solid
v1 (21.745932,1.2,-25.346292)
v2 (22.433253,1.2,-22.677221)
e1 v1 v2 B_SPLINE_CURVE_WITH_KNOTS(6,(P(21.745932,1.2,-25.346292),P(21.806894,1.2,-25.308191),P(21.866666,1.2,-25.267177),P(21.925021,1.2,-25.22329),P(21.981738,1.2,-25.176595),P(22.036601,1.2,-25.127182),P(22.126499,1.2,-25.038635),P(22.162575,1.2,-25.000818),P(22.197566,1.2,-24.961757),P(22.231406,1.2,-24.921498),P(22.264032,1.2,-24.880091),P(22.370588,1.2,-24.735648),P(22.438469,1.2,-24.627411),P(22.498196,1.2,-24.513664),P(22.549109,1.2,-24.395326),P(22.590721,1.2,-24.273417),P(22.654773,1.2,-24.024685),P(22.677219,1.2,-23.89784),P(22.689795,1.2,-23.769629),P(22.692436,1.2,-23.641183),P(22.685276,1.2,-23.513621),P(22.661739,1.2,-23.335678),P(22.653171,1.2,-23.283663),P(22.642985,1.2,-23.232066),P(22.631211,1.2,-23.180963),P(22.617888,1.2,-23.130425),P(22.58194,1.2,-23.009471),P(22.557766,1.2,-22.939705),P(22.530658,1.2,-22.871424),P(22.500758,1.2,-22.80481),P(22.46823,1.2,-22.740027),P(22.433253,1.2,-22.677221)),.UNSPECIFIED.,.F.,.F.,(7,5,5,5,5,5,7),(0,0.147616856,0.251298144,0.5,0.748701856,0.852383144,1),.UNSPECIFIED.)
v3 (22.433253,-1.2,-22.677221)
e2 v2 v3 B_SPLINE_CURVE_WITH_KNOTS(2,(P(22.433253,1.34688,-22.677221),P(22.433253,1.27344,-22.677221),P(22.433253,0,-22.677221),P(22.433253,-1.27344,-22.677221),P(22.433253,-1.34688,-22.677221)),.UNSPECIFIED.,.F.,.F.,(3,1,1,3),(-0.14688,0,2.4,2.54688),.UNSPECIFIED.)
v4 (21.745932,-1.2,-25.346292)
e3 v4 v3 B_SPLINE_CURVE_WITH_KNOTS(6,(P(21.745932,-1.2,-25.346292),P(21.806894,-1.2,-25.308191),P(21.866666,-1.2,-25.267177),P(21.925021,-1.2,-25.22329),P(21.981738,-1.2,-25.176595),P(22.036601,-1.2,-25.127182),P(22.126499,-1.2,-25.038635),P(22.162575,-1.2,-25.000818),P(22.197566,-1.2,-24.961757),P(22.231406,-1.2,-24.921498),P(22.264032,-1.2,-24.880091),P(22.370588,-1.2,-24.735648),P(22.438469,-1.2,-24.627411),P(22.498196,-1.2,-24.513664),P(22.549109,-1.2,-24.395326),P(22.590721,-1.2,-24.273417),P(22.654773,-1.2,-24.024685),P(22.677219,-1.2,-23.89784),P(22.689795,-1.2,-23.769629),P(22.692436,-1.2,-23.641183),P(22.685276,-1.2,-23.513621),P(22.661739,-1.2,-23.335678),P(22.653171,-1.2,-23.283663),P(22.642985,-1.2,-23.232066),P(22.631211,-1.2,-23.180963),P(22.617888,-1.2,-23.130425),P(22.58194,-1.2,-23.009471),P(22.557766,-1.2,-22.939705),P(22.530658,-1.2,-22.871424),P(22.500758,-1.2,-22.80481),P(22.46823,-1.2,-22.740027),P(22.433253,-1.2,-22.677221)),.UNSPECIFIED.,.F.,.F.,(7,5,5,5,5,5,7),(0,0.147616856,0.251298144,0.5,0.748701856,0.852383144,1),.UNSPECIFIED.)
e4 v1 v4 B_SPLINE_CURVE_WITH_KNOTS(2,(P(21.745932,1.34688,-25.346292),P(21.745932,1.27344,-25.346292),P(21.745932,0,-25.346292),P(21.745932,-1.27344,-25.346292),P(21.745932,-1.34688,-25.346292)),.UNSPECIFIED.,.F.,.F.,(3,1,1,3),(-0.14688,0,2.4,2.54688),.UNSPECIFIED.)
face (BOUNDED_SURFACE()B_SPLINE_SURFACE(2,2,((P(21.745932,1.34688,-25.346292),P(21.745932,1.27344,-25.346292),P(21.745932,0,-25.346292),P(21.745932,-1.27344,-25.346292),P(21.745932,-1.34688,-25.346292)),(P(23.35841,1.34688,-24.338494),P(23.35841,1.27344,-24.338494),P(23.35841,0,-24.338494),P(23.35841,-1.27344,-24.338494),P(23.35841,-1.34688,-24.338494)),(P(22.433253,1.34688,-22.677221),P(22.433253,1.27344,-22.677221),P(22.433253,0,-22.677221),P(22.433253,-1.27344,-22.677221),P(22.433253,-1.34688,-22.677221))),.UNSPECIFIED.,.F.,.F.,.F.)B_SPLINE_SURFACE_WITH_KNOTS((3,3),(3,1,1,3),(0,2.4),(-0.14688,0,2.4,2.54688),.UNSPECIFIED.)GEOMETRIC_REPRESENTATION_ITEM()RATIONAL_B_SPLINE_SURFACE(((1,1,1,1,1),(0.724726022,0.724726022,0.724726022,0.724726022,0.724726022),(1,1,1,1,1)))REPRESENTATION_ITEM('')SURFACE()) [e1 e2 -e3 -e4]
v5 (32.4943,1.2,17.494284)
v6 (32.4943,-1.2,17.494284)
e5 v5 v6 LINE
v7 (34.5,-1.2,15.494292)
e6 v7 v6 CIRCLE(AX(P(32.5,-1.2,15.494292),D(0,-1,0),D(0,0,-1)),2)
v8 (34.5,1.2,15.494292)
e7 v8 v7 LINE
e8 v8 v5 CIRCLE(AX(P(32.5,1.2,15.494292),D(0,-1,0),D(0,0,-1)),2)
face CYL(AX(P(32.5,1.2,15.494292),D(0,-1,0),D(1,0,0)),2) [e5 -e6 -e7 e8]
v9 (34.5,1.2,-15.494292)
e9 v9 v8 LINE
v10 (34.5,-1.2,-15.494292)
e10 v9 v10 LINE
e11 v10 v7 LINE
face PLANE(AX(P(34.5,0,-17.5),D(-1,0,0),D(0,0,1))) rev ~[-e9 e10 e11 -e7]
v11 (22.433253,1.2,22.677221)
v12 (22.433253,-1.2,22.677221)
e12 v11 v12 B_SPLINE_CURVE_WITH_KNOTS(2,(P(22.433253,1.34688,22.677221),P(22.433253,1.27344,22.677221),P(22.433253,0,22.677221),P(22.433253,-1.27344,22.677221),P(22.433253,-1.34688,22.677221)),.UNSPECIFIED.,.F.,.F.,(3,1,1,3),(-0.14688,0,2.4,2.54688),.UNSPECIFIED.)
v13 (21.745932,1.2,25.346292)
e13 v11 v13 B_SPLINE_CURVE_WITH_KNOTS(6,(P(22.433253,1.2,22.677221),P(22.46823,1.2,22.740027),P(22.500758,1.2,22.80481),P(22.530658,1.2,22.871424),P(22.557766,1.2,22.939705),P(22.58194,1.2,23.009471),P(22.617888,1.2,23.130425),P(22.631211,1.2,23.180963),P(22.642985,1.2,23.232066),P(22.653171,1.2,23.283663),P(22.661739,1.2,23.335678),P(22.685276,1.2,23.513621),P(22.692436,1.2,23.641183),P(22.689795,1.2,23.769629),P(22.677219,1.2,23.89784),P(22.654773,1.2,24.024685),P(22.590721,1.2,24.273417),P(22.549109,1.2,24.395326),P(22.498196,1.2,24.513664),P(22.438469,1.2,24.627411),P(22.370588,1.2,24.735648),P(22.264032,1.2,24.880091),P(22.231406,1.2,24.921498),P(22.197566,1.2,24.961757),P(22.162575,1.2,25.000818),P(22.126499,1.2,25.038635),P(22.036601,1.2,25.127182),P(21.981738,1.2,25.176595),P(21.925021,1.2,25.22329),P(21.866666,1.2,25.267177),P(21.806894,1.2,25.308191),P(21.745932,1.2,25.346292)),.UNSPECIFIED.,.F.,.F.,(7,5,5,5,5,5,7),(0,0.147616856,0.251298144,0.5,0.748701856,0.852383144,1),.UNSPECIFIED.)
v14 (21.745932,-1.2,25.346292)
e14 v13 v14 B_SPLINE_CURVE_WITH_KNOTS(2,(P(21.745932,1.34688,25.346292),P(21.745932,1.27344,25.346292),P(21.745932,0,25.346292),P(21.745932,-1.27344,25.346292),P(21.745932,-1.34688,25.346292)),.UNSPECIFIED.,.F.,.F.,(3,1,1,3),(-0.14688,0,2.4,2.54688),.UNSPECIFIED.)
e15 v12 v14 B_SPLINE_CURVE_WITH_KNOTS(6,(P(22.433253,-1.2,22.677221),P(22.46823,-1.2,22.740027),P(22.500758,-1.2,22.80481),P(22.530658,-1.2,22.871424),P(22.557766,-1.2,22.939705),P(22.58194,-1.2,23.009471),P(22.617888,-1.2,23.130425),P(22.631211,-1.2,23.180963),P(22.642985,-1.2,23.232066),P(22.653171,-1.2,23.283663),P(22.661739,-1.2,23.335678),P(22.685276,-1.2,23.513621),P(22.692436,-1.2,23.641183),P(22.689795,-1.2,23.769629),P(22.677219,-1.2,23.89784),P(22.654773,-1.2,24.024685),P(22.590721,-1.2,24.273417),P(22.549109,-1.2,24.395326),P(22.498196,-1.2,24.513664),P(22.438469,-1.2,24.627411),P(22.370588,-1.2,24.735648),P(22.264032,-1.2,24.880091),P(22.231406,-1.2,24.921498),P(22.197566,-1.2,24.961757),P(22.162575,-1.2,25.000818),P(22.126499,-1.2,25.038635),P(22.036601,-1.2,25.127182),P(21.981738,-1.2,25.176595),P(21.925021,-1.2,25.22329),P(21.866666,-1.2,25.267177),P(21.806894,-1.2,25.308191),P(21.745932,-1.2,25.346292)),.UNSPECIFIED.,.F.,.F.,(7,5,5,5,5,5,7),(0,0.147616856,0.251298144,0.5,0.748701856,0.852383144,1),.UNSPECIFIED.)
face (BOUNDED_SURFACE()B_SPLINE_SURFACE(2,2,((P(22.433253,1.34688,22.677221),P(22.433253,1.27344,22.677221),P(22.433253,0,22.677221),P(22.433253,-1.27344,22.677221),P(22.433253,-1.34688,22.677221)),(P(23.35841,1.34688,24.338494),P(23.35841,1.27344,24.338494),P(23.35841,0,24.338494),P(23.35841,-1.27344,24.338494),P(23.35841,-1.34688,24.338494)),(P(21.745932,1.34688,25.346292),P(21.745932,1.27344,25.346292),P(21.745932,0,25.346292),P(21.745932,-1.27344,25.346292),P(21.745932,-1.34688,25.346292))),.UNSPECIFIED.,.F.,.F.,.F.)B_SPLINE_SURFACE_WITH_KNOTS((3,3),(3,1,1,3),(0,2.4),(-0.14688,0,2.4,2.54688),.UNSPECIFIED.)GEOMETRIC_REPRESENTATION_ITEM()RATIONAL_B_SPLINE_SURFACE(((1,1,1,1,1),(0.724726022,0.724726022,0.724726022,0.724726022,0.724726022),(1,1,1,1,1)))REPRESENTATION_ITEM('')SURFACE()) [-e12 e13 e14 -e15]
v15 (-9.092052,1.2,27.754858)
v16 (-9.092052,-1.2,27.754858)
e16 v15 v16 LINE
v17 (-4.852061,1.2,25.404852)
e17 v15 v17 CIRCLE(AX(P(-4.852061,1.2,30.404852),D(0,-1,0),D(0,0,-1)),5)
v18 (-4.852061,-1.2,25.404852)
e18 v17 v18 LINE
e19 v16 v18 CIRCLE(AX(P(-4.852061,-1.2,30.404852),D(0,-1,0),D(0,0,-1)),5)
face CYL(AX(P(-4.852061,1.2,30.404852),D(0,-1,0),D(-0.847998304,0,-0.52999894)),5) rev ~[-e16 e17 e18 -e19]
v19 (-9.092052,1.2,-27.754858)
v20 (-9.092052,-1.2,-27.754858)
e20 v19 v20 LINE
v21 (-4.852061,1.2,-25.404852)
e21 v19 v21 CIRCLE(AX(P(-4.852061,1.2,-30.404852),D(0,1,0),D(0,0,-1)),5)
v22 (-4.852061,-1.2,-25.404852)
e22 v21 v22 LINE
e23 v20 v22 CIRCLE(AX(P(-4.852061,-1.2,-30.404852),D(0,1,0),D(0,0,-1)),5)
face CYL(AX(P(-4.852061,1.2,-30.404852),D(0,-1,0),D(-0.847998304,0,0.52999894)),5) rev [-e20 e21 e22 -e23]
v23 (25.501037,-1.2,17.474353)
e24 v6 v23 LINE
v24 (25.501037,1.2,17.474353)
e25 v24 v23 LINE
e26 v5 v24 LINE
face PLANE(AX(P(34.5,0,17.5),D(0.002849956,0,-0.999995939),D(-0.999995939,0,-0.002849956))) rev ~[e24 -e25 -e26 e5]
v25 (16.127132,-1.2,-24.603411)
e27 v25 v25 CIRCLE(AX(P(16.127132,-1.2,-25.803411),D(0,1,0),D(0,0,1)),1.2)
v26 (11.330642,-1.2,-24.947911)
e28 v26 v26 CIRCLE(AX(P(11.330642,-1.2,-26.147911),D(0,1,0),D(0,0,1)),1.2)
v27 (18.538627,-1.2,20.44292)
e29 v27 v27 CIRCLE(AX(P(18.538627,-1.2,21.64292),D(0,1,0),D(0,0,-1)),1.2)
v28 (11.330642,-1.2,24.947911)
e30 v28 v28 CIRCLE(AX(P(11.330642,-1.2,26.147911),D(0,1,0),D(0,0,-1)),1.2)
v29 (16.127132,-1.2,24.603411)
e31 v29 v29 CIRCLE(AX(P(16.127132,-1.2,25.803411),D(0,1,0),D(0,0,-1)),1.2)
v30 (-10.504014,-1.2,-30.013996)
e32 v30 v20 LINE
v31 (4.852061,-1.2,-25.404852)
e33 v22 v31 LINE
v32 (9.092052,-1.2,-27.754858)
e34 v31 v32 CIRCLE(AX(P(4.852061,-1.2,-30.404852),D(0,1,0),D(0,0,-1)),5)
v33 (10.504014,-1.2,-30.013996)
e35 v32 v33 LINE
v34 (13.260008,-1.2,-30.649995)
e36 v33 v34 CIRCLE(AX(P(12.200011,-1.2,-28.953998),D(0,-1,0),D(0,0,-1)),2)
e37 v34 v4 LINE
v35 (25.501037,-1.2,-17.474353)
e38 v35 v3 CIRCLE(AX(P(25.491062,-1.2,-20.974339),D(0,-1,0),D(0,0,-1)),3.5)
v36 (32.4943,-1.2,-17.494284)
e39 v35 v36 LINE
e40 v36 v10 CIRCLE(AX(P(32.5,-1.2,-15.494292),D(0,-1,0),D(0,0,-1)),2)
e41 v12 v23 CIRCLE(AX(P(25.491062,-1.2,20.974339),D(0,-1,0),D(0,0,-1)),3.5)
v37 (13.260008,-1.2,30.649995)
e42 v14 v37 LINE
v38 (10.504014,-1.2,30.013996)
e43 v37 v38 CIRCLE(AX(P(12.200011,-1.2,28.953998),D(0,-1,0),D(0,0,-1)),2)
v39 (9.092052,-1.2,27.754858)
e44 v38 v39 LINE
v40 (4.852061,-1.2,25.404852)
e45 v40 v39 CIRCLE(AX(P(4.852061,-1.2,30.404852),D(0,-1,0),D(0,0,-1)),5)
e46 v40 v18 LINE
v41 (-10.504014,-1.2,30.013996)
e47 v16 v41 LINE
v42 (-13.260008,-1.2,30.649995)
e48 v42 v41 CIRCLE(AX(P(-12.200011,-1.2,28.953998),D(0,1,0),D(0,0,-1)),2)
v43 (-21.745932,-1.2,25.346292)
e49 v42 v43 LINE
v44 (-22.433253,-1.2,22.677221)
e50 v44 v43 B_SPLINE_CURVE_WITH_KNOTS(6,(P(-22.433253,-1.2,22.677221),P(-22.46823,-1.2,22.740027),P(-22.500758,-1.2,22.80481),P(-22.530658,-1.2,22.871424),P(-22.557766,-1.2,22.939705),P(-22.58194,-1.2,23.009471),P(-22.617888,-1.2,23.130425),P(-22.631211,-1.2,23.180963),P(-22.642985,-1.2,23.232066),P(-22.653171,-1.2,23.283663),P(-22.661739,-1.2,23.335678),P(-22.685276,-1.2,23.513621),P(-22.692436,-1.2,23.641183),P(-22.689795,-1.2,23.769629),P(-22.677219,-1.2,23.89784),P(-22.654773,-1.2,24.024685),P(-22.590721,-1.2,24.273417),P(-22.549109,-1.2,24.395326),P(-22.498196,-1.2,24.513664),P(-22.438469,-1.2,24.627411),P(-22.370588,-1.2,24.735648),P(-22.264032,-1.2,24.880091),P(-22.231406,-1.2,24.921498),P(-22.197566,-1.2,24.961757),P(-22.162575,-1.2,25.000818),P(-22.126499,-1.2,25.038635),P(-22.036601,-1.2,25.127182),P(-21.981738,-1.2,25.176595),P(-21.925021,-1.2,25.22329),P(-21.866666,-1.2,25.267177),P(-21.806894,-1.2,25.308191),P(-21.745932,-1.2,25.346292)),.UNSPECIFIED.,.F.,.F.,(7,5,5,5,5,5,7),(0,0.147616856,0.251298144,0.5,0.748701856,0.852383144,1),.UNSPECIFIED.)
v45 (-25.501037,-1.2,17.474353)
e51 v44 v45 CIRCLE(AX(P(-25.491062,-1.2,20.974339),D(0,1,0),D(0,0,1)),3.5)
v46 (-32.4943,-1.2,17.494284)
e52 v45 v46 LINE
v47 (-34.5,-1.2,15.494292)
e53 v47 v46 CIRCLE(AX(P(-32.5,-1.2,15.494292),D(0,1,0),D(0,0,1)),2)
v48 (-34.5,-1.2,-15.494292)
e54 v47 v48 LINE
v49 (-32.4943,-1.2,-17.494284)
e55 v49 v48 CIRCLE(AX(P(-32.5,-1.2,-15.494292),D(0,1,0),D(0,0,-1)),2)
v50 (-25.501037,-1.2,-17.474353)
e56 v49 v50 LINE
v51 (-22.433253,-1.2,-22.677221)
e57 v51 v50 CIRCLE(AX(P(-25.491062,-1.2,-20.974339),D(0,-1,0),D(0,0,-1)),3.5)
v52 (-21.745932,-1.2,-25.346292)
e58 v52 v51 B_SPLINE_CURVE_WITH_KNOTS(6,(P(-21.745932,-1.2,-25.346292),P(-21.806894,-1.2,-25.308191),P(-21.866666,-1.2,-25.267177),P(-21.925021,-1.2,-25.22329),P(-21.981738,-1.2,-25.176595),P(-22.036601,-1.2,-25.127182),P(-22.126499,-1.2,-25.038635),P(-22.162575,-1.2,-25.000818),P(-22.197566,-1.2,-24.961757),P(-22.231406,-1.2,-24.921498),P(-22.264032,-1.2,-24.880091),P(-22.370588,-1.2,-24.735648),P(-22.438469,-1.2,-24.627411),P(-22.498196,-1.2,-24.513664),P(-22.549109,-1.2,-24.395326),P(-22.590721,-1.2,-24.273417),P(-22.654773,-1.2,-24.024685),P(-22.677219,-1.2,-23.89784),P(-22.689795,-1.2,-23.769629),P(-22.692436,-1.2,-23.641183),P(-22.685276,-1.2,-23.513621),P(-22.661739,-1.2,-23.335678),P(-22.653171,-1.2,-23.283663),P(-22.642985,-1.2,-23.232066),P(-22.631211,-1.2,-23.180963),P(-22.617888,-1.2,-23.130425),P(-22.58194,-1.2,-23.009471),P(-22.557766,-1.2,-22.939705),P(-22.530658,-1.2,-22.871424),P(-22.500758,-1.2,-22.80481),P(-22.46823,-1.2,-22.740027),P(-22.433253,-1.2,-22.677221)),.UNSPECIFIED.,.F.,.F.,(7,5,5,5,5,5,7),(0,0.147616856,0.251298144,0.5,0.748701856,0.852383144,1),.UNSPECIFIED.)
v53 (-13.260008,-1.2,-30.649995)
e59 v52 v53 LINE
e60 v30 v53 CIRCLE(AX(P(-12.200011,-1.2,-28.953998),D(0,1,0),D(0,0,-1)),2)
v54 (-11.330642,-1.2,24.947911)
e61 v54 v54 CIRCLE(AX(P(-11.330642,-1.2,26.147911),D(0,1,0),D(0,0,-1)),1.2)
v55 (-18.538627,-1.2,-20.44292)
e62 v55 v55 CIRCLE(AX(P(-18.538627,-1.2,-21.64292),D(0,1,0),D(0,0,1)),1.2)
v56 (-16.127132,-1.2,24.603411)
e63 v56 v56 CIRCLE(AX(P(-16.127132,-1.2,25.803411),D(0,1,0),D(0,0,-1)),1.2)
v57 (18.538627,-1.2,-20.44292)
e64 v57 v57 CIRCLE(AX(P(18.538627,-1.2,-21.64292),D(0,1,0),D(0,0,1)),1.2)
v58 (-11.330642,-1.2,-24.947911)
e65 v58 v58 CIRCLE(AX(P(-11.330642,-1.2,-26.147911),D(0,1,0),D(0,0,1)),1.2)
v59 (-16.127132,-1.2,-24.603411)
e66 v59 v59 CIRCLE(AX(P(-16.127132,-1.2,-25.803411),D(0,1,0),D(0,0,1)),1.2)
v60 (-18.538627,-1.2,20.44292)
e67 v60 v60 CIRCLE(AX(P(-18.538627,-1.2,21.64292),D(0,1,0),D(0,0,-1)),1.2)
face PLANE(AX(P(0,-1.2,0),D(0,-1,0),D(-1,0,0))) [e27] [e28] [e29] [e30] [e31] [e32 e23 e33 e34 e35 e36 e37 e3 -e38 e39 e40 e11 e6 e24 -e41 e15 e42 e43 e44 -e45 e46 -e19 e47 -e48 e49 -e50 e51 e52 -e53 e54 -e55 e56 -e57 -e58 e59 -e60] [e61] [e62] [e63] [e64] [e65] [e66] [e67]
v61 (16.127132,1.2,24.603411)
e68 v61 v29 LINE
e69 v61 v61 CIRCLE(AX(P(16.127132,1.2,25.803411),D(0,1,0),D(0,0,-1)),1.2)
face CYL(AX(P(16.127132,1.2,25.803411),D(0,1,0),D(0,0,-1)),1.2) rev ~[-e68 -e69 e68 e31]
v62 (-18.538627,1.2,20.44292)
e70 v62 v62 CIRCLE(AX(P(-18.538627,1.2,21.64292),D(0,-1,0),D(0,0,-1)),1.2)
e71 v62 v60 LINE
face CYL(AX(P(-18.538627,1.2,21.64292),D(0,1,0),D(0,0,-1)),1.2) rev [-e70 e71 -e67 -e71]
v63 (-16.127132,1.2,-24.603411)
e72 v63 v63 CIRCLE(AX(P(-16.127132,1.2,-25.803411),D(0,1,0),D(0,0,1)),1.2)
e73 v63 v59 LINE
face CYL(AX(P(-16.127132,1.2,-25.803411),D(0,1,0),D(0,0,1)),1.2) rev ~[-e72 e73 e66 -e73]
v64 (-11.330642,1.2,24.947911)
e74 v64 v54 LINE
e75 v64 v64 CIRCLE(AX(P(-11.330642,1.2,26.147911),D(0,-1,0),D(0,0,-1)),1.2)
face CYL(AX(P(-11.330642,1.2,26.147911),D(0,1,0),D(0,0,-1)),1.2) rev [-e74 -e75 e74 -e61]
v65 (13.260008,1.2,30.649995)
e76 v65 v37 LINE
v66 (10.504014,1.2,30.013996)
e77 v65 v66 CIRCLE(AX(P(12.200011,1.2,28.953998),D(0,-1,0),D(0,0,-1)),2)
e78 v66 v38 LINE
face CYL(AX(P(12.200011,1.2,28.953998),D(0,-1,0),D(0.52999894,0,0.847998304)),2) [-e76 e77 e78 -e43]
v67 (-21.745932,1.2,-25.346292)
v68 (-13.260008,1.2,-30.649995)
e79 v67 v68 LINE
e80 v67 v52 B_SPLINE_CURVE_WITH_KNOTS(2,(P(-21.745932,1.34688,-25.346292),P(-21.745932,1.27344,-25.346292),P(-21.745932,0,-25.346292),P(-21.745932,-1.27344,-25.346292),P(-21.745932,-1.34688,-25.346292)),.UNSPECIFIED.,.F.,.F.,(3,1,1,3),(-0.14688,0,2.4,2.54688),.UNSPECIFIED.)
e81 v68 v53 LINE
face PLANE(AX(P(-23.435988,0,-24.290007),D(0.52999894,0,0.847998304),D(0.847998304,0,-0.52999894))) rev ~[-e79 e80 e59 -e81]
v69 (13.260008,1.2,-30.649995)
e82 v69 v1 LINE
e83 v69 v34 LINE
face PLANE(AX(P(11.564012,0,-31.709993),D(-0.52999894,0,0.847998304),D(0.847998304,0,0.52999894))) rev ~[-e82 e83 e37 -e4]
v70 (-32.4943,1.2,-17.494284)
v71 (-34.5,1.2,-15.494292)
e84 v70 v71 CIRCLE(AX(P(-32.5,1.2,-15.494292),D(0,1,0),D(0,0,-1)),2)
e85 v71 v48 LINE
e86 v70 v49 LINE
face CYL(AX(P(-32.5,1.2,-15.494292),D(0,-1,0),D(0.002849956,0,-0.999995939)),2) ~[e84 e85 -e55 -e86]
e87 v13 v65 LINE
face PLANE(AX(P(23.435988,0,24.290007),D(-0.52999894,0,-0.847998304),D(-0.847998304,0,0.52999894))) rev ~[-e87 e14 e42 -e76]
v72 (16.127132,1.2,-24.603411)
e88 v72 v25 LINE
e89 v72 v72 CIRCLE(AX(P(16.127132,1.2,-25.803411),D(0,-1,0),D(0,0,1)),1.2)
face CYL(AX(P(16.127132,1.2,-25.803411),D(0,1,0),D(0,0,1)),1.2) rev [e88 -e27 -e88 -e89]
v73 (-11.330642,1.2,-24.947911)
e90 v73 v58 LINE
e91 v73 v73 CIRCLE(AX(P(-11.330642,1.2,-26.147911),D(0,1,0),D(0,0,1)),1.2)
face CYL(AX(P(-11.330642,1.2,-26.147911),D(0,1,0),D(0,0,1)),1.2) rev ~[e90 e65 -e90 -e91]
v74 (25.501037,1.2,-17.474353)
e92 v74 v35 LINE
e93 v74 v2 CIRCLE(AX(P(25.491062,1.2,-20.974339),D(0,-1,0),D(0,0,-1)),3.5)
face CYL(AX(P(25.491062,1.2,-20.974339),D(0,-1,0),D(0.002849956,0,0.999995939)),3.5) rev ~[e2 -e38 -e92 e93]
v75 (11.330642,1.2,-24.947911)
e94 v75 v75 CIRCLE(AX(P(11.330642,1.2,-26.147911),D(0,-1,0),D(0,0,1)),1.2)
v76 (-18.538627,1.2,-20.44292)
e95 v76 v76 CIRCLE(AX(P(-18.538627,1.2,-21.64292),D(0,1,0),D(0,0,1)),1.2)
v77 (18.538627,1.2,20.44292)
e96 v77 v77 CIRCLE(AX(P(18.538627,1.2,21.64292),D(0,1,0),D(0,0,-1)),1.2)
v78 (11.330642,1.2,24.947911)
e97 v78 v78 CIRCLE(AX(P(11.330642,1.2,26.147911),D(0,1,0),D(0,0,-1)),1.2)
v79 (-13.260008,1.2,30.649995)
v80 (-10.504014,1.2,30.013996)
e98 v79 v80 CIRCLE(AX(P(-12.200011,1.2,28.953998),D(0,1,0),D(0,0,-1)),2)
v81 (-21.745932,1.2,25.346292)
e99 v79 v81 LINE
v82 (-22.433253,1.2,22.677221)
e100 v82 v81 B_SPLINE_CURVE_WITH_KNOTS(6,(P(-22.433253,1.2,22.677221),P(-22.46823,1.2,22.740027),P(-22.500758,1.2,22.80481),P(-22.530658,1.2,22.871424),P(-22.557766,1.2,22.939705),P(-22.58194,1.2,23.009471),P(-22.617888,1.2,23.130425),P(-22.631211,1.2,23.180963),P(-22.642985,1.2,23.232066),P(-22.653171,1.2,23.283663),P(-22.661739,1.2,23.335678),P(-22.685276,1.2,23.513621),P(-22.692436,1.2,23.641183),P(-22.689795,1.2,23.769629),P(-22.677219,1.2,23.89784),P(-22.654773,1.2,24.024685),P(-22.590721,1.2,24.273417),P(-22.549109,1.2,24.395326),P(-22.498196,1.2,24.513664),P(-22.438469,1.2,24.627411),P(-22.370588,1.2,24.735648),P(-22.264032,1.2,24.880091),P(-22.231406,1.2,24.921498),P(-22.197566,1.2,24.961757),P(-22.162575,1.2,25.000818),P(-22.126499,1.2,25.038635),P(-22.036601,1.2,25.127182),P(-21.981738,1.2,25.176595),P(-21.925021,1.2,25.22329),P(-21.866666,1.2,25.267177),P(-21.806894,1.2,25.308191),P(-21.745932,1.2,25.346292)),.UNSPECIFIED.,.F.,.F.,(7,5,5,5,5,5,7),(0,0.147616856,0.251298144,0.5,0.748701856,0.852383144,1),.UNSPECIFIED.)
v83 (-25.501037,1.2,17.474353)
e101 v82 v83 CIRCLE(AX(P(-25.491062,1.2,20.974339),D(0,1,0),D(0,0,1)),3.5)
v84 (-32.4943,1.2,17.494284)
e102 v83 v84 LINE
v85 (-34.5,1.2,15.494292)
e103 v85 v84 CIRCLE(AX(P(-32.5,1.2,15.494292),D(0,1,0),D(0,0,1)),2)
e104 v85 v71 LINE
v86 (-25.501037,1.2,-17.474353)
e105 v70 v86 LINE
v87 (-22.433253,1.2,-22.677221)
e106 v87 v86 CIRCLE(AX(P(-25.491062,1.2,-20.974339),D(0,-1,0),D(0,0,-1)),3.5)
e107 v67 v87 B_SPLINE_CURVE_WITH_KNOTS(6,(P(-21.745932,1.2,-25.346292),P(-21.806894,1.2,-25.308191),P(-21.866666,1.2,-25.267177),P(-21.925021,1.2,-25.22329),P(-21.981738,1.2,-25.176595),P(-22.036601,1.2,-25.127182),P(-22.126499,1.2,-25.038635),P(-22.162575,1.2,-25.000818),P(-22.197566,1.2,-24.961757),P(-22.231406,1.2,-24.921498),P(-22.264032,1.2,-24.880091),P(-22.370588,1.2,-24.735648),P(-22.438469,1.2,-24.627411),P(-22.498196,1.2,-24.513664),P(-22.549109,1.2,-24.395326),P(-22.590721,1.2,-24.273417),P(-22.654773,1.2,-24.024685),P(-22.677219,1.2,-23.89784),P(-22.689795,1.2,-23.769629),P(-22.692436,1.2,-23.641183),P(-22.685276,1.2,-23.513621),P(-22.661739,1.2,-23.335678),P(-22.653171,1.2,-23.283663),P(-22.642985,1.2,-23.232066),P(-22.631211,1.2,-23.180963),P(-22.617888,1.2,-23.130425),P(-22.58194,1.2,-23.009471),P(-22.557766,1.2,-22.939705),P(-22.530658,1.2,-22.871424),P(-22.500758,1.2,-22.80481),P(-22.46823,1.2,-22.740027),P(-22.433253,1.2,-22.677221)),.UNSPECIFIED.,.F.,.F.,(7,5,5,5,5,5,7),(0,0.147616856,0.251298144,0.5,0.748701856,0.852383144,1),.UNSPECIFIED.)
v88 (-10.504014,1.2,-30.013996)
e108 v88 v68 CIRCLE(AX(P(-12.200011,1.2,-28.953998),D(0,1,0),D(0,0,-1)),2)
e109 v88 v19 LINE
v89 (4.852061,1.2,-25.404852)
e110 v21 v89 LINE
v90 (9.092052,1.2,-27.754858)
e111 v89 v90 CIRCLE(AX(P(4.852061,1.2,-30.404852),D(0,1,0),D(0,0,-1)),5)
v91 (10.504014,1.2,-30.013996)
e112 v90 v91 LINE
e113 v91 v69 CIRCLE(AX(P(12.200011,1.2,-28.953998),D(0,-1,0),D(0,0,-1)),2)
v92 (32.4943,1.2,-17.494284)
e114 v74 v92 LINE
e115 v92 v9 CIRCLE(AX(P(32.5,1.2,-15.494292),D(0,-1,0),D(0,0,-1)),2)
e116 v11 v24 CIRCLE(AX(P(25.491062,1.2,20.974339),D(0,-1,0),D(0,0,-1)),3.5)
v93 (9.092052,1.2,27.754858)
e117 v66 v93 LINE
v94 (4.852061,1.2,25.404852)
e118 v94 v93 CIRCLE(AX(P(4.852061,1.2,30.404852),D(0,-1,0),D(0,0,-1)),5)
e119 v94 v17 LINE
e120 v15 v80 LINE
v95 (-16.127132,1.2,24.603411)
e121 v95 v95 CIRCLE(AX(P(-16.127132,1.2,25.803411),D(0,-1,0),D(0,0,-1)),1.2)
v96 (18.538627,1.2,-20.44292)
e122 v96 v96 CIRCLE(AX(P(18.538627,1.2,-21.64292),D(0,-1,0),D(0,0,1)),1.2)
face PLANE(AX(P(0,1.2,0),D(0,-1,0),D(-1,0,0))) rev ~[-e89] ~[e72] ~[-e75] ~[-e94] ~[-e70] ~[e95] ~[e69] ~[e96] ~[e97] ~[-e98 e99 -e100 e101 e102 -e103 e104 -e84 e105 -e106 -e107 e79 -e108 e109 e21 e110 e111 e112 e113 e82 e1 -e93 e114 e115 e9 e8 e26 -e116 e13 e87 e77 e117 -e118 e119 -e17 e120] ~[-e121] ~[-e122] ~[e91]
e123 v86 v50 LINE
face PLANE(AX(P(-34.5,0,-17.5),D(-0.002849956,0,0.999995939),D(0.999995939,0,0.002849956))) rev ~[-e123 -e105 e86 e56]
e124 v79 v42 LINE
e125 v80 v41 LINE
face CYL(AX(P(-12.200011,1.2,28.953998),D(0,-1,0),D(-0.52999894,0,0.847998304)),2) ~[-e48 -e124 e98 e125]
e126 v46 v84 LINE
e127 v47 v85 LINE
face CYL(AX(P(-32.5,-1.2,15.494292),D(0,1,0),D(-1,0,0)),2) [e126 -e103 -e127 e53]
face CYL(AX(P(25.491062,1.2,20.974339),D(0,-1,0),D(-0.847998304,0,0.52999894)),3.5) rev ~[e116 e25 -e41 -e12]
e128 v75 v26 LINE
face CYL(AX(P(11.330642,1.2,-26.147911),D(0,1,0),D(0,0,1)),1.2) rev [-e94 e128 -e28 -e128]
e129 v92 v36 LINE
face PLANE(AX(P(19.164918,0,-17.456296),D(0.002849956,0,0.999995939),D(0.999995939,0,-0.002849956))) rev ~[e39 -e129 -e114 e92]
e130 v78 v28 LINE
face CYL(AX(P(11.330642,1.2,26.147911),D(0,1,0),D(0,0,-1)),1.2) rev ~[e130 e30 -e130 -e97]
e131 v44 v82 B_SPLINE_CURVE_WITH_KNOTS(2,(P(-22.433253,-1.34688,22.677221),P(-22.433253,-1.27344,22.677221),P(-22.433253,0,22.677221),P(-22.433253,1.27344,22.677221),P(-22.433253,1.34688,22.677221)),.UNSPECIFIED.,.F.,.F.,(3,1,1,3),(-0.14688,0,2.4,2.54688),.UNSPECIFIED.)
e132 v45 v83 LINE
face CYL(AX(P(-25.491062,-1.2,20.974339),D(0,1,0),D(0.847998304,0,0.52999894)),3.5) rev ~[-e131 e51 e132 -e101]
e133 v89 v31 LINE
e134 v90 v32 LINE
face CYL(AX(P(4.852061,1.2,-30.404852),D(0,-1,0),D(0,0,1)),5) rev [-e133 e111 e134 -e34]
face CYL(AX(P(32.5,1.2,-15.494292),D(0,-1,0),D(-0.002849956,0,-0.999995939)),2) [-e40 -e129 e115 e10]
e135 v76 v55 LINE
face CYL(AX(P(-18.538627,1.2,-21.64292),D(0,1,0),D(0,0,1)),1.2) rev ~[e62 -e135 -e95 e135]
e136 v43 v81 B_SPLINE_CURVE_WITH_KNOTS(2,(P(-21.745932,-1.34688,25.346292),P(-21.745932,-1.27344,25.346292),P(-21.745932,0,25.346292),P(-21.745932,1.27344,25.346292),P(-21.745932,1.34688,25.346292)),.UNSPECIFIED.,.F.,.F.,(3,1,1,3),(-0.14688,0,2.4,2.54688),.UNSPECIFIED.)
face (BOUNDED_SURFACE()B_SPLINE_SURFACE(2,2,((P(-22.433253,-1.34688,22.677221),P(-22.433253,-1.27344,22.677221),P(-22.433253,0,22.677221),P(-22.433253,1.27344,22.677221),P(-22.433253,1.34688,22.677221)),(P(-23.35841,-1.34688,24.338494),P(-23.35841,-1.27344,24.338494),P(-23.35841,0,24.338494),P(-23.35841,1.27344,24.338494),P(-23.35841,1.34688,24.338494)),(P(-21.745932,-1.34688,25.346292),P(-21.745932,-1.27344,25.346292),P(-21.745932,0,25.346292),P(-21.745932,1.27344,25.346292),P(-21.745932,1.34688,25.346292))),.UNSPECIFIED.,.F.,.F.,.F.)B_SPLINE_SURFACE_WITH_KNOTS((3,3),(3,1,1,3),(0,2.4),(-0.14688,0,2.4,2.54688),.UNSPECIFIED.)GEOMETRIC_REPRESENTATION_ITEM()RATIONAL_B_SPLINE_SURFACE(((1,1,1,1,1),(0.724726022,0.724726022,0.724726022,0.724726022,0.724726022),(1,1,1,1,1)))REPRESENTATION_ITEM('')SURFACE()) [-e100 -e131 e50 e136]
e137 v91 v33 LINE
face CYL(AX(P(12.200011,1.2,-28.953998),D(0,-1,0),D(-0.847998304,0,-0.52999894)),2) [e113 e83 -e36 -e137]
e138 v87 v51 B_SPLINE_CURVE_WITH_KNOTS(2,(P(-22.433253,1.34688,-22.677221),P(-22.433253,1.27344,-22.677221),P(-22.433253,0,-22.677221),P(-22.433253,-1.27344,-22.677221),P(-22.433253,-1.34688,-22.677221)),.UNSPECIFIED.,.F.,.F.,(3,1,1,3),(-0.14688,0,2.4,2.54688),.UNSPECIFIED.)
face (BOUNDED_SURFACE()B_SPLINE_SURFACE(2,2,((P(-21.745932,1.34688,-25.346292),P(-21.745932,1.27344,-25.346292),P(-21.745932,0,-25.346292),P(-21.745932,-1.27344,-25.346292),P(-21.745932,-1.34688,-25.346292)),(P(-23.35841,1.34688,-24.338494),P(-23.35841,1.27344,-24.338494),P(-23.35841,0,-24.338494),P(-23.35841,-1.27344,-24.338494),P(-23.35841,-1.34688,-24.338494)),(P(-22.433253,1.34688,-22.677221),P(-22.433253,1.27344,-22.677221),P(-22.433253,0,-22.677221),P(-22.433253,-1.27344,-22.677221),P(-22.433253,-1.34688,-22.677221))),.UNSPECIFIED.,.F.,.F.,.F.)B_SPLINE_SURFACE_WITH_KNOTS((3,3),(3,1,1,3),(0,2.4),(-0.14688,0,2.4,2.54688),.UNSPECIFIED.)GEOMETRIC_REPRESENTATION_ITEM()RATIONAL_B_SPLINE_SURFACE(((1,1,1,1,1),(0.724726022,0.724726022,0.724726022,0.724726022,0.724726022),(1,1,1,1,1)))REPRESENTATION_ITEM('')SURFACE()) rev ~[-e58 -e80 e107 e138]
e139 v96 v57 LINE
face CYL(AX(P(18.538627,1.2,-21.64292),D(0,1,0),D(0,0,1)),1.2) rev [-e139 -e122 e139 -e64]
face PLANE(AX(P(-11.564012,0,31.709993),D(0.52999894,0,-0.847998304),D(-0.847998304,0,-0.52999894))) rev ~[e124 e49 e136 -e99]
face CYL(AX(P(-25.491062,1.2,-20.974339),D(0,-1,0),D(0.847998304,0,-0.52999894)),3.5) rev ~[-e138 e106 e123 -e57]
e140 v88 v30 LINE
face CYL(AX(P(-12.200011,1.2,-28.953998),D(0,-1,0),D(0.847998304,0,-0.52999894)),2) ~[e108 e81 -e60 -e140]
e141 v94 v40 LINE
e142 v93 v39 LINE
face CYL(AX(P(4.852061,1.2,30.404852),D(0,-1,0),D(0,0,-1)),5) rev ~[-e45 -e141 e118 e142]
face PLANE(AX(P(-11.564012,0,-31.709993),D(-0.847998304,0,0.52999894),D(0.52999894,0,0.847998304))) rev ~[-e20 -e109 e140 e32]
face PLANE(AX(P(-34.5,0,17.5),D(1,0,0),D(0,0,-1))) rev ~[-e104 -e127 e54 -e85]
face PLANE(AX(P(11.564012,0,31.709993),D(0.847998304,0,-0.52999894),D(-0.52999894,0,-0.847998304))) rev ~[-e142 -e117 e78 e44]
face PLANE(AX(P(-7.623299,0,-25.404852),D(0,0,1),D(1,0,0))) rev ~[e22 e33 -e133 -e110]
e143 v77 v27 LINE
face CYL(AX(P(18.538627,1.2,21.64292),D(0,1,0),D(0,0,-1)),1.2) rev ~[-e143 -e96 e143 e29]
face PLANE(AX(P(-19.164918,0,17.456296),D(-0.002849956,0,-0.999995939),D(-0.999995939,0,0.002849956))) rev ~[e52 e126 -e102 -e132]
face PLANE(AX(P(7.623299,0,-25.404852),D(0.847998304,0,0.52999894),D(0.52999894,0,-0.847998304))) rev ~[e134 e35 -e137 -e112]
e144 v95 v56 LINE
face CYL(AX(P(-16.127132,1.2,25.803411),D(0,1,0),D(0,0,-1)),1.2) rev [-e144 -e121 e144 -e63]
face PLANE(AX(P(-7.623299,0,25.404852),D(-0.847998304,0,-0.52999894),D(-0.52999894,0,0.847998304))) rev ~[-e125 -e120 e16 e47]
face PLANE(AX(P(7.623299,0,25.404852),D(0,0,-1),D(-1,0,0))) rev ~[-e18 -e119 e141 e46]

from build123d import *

# Parameters (mm, degrees)
BOSS_EXTRUDE1_DEPTH     = 1.2
FILLET1_R               = 3.5
FILLET2_R               = 5
FILLET3_R               = 2
SKETCH3_R               = 1.2
CUT_EXTRUDE1_DEPTH      = 47.412929356
MIRROR2_COPY_1_SKETCH_R = 1.2
MIRROR2_COPY_1_DEPTH    = 47.412929356


with BuildPart() as part:
    # Sketch2 → Boss-Extrude1 (new, symmetric)
    with BuildSketch(Plane(origin=(0, 0, 0), x_dir=(1, 0, 0), z_dir=(0, 1, 0))):
        Polygon((-34.5, -17.5), (-34.5, 17.5), (-19.164918189, 17.456295518), (-23.435988128, 24.29000742), (-11.564011872, 31.70999258), (-7.623299146, 25.404852218), (7.623299146, 25.404852218), (11.564011872, 31.70999258), (23.435988128, 24.29000742), (19.164918189, 17.456295518), (34.5, 17.5), (34.5, -17.5), (19.164918189, -17.456295518), (23.435988128, -24.29000742), (11.564011872, -31.70999258), (7.623299146, -25.404852218), (-7.623299146, -25.404852218), (-11.564011872, -31.70999258), (-23.435988128, -24.29000742), (-19.164918189, -17.456295518), align=None)
    extrude(amount=BOSS_EXTRUDE1_DEPTH, both=True)

    # Fillet1
    fillet1_edges = [part.edges().sort_by_distance(p)[0] for p in [
        (-19.164918189, 0, -17.456295518),
        (19.164918189, 0, -17.456295518),
        (19.164918189, 0, 17.456295518),
        (-19.164918189, 0, 17.456295518),
    ]]
    fillet(fillet1_edges, radius=FILLET1_R)

    # Fillet2
    fillet2_edges = [part.edges().sort_by_distance(p)[0] for p in [
        (-7.623299146, 0, -25.404852218),
        (7.623299146, 0, -25.404852218),
        (7.623299146, 0, 25.404852218),
        (-7.623299146, 0, 25.404852218),
    ]]
    fillet(fillet2_edges, radius=FILLET2_R)

    # Fillet3
    fillet3_edges = [part.edges().sort_by_distance(p)[0] for p in [
        (34.5, 0, -17.5),
        (23.435988128, 0, -24.29000742),
        (34.5, 0, 17.5),
        (23.435988128, 0, 24.29000742),
        (11.564011872, 0, 31.70999258),
        (11.564011872, 0, -31.70999258),
        (-11.564011872, 0, -31.70999258),
        (-23.435988128, 0, -24.29000742),
        (-34.5, 0, -17.5),
        (-34.5, 0, 17.5),
        (-11.564011872, 0, 31.70999258),
        (-23.435988128, 0, 24.29000742),
    ]]
    fillet(fillet3_edges, radius=FILLET3_R)

    # Sketch3 → Cut-Extrude1 (cut, through all)
    with BuildSketch(Plane(origin=(0, 1.2, 0), x_dir=(1, 0, 0), z_dir=(0, 1, 0))):
        with Locations(Location((-16.127132138, 25.803411421, 0), (0, 0, 270))):
            Circle(SKETCH3_R)
        with Locations(Location((-11.330641731, 26.147910732, 0), (0, 0, 270))):
            Circle(SKETCH3_R)
        with Locations(Location((-18.538627315, 21.642919742, 0), (0, 0, 270))):
            Circle(SKETCH3_R)
    cut_extrude1 = extrude(amount=-CUT_EXTRUDE1_DEPTH, mode=Mode.SUBTRACT)

    # Mirror1: Cut-Extrude1 across plane
    add(cut_extrude1.mirror(Plane(origin=(0, 0, 0), x_dir=(0, 0, 1), z_dir=(1, 0, 0))), mode=Mode.SUBTRACT)

    # Mirror2: Cut-Extrude1 across plane
    add(cut_extrude1.mirror(Plane.XY), mode=Mode.SUBTRACT)

    # Mirror2 copy 1 sketch → Mirror2 copy 1 (cut, through all)
    with BuildSketch(Plane(origin=(0, 1.2, 0), x_dir=(-1, 0, 0), z_dir=(0, 1, 0))):
        with Locations(Location((-16.127132138, 25.803411421, 0), (0, 0, 270))):
            Circle(MIRROR2_COPY_1_SKETCH_R)
        with Locations(Location((-11.330641731, 26.147910732, 0), (0, 0, 270))):
            Circle(MIRROR2_COPY_1_SKETCH_R)
        with Locations(Location((-18.538627315, 21.642919742, 0), (0, 0, 270))):
            Circle(MIRROR2_COPY_1_SKETCH_R)
    extrude(amount=-MIRROR2_COPY_1_DEPTH, mode=Mode.SUBTRACT)


solid = part.part
